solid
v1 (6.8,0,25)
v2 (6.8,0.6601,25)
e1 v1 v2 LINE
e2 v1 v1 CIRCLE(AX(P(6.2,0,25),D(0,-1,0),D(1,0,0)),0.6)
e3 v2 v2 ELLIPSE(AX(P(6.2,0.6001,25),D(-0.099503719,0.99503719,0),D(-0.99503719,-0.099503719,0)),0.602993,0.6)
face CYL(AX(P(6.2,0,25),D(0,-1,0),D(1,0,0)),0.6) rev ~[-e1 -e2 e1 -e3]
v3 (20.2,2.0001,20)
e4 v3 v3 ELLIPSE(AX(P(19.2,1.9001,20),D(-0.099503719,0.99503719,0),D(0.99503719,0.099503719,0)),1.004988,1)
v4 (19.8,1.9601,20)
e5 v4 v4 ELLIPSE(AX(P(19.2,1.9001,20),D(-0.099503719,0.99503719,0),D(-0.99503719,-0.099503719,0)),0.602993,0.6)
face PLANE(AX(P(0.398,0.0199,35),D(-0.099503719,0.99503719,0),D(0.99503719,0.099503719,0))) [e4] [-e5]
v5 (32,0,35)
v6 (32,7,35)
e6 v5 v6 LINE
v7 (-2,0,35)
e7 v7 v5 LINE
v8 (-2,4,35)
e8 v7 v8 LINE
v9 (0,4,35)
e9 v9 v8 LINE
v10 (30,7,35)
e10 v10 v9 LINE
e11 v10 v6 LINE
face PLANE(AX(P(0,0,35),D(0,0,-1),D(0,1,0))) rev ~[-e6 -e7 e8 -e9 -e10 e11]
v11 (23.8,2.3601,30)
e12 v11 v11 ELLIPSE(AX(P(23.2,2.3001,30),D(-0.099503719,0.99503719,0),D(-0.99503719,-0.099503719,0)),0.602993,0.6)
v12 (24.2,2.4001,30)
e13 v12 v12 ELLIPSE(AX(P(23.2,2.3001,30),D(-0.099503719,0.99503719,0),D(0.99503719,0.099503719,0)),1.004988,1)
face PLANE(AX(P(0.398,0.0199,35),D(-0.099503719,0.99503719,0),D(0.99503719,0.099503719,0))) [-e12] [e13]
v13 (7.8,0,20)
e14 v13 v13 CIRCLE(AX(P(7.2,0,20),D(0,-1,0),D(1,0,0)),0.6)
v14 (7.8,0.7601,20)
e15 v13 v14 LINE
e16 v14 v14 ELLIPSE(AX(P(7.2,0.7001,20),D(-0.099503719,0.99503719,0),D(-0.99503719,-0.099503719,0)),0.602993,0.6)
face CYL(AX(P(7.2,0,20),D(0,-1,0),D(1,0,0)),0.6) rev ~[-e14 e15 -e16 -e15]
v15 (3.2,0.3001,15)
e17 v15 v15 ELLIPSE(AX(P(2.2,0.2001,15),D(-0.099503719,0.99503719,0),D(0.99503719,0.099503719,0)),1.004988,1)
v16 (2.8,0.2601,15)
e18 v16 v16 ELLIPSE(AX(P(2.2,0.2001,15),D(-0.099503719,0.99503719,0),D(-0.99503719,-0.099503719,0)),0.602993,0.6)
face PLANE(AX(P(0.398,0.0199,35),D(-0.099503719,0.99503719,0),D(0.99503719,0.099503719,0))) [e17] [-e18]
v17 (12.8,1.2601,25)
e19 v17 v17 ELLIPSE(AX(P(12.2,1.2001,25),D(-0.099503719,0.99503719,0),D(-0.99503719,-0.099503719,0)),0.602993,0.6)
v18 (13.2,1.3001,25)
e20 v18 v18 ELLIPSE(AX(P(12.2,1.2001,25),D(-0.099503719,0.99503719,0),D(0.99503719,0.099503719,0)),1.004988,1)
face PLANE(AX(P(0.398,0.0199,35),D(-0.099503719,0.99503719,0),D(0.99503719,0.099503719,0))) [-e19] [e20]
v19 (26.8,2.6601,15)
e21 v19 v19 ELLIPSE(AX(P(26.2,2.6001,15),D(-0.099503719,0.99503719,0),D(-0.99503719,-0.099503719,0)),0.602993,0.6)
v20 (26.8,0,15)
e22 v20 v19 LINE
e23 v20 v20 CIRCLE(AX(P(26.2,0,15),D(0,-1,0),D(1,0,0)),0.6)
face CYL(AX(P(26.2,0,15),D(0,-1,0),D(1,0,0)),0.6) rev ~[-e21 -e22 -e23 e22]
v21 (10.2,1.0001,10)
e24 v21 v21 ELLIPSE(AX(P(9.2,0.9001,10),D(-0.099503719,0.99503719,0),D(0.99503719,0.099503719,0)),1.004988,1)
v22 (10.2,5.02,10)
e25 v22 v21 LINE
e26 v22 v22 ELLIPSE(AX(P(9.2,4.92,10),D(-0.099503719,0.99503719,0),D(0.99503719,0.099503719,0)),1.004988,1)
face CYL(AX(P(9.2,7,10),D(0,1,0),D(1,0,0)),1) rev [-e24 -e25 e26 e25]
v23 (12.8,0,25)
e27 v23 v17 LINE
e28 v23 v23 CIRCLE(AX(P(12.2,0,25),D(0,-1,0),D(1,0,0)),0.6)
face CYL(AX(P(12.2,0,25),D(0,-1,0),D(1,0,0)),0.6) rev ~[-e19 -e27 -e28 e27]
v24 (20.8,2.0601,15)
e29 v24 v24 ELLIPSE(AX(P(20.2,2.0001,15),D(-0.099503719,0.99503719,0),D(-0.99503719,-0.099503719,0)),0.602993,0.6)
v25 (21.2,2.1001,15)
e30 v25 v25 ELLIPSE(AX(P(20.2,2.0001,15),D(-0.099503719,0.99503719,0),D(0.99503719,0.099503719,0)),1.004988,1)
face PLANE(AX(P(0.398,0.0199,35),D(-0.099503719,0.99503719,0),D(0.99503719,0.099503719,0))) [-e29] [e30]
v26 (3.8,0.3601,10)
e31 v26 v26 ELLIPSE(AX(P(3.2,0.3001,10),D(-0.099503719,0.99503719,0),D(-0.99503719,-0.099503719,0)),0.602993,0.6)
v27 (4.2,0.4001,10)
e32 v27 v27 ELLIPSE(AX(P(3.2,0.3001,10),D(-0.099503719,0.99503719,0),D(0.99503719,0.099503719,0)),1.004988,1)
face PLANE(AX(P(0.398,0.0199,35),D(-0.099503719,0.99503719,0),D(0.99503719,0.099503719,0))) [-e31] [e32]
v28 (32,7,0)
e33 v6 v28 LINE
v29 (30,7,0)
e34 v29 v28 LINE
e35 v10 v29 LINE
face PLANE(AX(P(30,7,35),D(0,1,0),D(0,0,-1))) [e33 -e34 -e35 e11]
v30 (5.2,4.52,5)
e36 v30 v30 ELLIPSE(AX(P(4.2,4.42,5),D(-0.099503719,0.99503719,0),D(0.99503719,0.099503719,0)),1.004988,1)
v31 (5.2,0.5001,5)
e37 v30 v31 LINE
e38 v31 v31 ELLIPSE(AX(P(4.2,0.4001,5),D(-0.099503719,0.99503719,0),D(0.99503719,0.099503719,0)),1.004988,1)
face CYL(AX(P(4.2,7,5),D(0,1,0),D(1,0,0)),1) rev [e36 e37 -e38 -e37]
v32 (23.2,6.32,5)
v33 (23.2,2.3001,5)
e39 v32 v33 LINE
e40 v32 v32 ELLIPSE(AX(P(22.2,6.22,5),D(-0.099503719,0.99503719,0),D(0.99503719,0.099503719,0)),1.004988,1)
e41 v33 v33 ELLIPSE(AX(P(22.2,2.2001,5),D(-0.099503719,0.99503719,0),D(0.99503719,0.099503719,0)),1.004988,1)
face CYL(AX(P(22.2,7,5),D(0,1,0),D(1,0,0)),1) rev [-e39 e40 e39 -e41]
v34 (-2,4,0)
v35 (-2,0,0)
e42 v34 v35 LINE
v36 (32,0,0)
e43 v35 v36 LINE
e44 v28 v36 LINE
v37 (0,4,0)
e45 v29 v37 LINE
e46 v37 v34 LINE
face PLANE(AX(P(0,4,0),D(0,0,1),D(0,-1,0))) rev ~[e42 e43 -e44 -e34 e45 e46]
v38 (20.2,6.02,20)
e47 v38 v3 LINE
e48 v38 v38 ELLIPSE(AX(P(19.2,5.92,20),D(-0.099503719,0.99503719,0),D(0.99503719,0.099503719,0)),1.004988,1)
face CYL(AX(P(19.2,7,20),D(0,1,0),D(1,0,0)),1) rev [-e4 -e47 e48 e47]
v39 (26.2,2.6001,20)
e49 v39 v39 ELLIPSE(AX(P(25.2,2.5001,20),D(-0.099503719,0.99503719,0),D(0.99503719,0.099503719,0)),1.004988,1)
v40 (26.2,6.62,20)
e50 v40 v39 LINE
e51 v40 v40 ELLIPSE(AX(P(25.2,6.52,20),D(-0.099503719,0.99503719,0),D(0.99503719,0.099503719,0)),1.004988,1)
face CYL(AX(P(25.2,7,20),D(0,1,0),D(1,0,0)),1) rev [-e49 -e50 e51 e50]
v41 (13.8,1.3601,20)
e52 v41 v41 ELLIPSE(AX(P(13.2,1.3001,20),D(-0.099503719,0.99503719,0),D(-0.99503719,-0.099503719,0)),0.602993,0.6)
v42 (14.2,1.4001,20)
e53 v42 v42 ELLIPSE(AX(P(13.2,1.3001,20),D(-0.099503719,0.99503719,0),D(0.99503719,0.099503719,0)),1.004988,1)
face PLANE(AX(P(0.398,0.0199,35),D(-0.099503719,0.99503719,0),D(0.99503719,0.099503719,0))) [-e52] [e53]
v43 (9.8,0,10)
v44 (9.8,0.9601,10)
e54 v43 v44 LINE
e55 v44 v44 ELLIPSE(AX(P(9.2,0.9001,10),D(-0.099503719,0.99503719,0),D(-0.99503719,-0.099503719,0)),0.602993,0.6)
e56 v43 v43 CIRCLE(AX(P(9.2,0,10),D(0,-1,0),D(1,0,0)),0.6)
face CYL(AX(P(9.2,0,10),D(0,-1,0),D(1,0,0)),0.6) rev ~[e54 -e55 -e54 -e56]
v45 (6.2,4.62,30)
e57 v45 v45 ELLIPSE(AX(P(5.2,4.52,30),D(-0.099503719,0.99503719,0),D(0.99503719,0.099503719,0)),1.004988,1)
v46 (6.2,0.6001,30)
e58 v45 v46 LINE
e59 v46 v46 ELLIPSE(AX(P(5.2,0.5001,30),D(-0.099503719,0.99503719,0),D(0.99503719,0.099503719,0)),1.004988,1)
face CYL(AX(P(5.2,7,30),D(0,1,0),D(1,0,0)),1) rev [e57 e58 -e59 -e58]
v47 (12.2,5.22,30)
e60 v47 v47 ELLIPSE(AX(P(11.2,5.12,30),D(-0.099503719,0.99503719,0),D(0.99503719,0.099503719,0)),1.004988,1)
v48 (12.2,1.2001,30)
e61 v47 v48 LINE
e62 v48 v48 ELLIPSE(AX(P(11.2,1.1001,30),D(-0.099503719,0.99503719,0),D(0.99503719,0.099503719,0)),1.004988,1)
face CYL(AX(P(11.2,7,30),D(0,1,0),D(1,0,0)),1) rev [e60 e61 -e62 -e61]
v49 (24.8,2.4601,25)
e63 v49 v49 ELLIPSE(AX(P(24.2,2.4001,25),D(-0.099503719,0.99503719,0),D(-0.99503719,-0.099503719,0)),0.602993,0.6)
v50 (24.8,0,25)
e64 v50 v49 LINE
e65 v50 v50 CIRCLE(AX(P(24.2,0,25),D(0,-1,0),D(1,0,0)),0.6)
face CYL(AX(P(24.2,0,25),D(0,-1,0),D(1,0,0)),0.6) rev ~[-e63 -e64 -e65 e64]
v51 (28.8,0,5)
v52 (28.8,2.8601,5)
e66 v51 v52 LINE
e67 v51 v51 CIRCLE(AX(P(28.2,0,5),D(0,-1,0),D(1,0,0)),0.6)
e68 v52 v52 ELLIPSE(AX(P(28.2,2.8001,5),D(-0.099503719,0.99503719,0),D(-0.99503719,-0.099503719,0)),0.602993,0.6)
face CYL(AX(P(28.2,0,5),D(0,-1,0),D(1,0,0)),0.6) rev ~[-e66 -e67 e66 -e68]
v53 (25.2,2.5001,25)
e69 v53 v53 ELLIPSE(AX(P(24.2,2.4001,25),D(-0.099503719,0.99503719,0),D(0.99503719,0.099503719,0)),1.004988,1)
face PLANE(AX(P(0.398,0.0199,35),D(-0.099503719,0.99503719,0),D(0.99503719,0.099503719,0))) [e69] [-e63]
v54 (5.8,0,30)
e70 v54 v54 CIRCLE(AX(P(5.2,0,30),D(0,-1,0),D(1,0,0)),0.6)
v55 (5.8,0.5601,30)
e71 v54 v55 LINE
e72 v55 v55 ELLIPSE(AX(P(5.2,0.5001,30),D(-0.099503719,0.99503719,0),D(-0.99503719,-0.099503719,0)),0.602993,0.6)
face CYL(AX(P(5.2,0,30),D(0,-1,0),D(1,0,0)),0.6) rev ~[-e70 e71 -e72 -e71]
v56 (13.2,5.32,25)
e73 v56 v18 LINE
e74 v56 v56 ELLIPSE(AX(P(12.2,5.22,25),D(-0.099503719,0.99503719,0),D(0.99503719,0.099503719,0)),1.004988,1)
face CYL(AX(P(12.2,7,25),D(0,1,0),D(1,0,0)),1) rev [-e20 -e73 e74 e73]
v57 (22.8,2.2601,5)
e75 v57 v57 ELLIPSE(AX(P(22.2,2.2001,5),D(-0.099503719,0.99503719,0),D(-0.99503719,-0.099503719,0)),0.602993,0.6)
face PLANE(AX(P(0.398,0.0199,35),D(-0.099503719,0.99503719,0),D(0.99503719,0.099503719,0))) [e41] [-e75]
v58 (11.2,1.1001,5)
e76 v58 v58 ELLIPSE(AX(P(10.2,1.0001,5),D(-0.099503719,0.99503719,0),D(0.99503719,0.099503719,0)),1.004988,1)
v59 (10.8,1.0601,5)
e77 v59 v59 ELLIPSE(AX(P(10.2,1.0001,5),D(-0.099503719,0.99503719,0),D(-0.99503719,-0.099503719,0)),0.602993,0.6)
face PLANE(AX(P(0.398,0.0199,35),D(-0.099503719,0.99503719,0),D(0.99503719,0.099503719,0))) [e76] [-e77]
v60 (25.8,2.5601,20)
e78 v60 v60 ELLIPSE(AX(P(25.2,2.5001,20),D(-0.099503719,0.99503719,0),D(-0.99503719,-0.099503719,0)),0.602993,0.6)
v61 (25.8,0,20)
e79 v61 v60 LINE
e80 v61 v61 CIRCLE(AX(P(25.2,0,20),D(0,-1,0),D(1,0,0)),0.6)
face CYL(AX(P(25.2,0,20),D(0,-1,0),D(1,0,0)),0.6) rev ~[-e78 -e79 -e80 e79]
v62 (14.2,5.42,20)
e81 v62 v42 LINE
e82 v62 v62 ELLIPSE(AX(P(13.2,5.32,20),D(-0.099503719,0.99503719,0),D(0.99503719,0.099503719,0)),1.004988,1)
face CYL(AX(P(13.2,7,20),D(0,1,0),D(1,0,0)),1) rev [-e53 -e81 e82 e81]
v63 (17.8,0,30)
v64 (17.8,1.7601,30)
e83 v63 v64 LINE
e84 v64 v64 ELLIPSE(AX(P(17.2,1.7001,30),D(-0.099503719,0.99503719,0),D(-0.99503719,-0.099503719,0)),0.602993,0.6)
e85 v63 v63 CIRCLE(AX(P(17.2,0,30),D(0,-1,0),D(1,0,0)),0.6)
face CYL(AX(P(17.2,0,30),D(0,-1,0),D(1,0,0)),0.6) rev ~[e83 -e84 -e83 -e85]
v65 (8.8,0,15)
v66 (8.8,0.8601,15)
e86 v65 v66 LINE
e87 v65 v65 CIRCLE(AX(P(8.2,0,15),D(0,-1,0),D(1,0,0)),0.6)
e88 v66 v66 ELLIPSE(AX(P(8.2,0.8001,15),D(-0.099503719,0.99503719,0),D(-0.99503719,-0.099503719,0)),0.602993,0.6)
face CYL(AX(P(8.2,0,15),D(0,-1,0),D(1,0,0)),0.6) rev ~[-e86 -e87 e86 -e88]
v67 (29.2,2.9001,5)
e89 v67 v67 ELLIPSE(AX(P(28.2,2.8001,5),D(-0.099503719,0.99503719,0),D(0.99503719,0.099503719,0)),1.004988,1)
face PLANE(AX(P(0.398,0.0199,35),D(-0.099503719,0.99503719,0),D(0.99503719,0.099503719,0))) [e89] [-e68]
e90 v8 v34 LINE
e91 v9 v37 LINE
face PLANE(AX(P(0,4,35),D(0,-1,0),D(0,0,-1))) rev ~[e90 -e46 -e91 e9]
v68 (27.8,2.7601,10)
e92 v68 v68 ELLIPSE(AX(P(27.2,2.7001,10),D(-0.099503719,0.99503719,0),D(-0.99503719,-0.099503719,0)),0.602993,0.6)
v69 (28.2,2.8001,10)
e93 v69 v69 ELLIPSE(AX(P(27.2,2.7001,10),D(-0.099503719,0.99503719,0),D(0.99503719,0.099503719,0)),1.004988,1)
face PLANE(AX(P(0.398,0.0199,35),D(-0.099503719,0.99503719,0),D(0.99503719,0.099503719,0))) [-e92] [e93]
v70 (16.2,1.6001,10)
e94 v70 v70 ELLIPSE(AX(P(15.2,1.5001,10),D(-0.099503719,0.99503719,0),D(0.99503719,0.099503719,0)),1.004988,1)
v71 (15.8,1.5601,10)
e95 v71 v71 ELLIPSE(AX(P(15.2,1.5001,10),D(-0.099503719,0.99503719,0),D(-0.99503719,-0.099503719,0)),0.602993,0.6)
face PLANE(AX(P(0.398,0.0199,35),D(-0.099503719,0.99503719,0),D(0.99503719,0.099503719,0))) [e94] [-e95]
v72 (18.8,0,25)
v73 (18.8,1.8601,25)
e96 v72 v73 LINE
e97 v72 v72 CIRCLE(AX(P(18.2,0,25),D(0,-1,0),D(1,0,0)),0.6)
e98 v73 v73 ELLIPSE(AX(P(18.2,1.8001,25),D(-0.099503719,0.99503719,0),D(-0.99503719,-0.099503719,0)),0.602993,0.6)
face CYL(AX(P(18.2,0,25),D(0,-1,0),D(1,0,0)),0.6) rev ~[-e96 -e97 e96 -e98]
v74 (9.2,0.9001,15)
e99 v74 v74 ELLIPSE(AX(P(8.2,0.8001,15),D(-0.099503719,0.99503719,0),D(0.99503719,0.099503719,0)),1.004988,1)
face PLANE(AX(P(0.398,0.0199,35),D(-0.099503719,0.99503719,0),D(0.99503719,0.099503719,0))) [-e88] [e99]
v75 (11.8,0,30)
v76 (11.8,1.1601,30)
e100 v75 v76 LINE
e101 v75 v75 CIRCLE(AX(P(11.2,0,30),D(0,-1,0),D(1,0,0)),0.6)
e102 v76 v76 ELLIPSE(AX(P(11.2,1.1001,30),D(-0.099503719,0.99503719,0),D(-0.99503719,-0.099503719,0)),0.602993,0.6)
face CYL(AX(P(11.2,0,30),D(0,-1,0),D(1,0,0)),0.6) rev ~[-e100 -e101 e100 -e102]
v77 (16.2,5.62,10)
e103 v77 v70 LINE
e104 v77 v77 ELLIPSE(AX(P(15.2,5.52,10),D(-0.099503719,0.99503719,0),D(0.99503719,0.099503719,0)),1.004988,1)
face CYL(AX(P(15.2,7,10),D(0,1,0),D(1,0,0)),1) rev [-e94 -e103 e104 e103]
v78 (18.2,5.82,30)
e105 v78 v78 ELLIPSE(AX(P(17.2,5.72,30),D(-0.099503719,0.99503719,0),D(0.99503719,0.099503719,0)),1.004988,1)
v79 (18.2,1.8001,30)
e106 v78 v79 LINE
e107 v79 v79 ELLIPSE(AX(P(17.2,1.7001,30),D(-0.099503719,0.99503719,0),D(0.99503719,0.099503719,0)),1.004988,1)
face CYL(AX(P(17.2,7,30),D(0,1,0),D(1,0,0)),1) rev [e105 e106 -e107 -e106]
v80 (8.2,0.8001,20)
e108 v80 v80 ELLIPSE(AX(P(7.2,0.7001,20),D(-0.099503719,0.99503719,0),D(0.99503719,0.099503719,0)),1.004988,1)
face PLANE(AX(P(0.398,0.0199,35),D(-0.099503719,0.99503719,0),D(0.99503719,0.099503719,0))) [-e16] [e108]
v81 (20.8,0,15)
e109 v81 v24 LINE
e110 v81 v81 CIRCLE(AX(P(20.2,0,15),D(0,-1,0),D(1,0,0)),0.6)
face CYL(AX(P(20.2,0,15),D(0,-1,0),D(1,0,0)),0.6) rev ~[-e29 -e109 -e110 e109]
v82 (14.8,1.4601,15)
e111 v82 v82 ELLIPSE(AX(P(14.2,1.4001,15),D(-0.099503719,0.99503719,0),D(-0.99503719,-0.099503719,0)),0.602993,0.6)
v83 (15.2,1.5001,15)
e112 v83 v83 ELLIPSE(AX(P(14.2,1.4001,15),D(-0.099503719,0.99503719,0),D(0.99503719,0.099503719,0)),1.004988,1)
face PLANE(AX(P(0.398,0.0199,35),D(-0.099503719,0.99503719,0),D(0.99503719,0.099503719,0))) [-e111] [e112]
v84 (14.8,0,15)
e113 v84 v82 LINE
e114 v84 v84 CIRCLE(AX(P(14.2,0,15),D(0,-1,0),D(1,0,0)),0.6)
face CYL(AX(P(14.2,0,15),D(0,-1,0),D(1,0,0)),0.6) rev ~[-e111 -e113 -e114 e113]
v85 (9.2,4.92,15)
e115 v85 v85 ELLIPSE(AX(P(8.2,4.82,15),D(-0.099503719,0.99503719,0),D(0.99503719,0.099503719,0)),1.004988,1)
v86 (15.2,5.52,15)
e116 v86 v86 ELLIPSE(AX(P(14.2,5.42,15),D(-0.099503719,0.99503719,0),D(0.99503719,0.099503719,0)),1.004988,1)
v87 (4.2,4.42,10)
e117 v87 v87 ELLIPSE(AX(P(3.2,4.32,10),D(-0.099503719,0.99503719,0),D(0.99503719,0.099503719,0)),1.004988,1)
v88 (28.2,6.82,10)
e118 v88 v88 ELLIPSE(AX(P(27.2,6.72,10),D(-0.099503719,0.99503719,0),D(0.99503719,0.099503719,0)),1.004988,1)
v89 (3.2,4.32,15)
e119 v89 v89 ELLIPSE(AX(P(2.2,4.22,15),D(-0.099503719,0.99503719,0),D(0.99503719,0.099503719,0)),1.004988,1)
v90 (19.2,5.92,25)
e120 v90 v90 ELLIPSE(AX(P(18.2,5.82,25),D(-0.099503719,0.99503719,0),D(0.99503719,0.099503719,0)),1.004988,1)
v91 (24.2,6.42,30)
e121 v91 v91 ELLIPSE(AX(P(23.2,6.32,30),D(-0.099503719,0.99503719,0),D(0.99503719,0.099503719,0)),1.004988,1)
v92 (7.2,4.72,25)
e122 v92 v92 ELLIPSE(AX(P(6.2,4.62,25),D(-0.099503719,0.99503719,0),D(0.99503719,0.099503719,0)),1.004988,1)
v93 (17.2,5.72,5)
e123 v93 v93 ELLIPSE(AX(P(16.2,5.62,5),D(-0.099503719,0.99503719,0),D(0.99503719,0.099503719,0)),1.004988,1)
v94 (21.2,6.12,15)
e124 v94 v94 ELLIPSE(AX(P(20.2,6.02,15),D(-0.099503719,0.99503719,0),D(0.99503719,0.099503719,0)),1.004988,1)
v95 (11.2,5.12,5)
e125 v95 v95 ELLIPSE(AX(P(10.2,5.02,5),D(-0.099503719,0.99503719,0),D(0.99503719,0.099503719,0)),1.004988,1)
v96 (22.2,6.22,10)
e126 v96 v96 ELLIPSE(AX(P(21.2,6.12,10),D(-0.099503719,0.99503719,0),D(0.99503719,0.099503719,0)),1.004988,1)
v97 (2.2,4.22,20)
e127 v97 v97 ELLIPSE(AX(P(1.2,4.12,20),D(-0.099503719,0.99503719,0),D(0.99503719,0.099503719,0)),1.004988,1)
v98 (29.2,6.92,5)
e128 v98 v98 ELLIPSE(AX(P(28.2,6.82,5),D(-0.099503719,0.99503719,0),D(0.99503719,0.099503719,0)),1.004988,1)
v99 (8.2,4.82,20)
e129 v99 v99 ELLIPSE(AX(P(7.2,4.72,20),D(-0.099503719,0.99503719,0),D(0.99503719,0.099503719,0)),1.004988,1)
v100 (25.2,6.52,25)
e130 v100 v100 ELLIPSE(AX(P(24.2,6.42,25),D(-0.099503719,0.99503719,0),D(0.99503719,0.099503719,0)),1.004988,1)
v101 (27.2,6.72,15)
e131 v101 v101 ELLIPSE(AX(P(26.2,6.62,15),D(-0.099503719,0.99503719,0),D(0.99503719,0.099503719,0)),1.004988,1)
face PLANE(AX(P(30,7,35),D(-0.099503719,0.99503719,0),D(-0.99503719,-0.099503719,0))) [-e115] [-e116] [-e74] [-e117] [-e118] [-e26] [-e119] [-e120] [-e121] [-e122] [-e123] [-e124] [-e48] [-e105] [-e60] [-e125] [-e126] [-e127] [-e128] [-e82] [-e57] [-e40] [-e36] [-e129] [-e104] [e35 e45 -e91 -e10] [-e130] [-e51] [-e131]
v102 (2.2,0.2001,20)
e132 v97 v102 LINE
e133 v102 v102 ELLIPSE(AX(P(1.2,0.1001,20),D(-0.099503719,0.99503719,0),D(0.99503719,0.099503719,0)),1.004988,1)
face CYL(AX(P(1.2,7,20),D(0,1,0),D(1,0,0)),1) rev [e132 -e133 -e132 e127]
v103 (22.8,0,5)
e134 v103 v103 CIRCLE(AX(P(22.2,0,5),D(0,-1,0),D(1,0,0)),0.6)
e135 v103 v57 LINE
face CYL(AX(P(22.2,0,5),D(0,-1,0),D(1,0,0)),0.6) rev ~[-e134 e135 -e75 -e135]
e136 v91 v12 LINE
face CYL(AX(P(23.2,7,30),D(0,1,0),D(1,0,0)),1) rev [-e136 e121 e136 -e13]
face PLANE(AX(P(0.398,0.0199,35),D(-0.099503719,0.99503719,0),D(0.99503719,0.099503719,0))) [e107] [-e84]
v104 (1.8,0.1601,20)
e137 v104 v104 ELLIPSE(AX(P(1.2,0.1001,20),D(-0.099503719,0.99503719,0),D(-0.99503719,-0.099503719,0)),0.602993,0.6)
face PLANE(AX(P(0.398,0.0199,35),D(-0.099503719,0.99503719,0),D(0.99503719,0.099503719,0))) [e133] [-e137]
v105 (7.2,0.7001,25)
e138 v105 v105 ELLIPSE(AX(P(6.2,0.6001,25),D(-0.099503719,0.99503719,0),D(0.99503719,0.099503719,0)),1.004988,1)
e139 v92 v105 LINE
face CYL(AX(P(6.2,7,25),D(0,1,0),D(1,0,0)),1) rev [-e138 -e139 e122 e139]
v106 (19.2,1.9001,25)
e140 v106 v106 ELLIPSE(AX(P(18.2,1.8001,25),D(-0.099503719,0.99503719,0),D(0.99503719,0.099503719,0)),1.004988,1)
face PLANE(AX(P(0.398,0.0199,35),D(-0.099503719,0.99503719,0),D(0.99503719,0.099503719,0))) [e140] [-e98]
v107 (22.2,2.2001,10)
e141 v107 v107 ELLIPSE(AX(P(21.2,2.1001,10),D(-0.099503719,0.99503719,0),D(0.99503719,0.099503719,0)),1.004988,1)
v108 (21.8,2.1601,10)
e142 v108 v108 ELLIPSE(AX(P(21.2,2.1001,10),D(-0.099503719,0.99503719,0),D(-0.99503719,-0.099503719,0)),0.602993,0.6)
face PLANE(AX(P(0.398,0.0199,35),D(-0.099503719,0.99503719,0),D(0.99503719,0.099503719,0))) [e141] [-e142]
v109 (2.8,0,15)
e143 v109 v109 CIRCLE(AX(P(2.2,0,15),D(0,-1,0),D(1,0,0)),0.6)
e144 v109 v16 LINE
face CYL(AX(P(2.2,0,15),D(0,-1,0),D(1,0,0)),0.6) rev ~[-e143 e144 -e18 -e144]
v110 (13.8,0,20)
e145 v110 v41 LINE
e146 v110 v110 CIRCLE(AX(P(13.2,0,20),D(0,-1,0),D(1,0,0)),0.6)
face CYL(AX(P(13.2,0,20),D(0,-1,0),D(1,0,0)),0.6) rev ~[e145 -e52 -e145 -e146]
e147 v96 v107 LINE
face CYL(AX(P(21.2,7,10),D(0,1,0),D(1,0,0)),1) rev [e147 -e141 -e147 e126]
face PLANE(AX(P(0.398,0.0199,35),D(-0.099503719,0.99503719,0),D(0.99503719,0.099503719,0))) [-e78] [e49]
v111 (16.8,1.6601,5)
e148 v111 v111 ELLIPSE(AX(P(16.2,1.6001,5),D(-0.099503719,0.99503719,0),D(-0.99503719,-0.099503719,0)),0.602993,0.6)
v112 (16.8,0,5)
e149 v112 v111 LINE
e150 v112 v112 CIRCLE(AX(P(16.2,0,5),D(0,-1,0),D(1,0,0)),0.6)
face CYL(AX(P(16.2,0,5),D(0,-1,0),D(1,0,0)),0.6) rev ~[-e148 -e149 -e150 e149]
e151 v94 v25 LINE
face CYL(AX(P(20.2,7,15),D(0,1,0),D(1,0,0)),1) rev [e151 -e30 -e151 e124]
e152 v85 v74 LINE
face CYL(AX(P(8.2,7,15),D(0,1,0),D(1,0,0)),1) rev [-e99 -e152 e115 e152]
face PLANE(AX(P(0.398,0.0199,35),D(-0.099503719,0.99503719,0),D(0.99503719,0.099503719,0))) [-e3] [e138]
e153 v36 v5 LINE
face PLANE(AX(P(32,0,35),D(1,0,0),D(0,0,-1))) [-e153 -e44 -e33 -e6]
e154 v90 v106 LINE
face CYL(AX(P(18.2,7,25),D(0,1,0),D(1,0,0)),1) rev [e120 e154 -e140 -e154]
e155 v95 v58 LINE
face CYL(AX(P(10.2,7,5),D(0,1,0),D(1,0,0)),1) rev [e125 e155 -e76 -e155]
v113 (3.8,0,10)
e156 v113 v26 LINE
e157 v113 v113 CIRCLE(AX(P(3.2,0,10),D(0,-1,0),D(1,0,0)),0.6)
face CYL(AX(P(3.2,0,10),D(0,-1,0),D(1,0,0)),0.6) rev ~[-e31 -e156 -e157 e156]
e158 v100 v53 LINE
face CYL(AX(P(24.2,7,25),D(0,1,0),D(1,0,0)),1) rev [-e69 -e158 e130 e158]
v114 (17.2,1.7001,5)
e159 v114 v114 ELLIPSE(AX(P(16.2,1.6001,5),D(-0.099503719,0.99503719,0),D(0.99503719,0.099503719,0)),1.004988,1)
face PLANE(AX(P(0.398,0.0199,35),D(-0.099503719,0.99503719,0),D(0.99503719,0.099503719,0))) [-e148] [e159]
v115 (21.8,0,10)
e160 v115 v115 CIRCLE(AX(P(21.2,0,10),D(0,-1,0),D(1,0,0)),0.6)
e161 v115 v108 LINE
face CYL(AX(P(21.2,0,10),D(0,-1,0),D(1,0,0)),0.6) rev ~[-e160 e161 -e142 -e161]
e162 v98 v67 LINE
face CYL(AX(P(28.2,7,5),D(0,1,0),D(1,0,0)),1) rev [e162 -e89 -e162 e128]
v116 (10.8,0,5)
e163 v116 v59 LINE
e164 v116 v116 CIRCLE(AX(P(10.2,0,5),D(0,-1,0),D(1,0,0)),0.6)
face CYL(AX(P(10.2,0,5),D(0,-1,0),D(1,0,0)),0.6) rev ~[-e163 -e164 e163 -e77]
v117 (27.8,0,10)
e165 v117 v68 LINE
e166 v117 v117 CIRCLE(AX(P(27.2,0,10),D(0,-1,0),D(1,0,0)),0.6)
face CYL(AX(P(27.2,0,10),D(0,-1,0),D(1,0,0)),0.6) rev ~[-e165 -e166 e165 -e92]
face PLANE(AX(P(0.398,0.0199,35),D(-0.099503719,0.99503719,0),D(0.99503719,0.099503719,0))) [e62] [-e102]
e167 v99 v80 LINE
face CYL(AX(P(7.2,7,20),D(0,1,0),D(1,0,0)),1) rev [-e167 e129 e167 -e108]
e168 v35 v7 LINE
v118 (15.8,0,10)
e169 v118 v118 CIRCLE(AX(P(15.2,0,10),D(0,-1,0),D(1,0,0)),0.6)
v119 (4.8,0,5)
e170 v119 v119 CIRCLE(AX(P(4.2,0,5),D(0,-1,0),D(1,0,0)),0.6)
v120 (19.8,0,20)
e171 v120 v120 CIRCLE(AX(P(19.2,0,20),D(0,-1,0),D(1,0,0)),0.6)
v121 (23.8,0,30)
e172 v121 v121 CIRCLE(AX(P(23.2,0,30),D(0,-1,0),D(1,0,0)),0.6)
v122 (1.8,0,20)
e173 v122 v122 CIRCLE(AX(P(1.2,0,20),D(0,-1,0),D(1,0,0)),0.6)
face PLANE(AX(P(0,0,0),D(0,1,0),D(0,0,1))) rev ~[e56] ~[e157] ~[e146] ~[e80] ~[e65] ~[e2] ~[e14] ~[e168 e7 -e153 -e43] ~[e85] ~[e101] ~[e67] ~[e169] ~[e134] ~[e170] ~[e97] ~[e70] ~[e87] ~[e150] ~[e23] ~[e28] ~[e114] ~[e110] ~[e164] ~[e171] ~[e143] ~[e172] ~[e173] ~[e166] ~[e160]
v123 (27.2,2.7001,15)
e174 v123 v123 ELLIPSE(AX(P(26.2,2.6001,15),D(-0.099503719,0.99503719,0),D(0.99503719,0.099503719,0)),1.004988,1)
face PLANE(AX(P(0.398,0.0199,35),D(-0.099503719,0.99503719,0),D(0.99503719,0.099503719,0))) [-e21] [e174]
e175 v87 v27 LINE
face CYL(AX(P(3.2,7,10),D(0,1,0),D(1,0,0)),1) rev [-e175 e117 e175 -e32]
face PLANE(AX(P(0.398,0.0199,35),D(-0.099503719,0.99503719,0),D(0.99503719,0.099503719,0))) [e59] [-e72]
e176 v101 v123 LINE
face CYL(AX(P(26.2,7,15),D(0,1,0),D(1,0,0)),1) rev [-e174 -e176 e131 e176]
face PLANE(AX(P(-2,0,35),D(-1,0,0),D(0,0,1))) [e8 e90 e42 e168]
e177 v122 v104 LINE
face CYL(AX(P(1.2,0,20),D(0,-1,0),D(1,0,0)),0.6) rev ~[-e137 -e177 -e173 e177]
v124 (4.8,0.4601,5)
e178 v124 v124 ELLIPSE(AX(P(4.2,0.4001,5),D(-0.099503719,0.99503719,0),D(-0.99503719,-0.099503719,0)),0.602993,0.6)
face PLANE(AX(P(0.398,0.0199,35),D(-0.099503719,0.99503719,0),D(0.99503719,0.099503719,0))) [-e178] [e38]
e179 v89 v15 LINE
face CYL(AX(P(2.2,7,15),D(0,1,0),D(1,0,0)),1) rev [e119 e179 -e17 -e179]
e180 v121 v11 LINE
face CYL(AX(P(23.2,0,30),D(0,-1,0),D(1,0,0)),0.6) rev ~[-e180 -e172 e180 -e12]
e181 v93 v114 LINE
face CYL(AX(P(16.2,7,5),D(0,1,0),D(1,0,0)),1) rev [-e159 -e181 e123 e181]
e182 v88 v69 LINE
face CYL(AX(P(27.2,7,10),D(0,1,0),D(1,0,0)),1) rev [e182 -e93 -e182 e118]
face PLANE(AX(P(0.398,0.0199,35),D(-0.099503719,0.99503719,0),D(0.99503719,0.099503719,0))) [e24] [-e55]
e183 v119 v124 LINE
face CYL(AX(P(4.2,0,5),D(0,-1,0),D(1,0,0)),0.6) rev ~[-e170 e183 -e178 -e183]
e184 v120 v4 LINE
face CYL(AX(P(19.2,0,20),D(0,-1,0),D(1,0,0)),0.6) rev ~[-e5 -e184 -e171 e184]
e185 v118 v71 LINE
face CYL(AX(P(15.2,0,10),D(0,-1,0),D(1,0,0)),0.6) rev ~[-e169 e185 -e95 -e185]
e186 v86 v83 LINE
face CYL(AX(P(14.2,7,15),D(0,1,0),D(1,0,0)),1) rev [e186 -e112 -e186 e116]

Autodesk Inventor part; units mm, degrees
ref_plane "YZ Plane" through (0, 0, 0) normal (1, 0, 0) x (0, 1, 0)
sketch "Sketch1" plane through (0, 0, 0) normal (0, 0, 1) x (1, 0, 0)
  line L0 (0, 0) -> (30, 0)
  line L1 (30, 0) -> (30, 3)
  line L2 (30, 3) -> (0, 0)
  dimension "d0" = 30
  dimension "d1" = 3
extrude "Extrusion1" add sketch "Sketch1" along normal blind 35
sketch "Sketch2" plane through (0, 0, 0) normal (0, -1, 0) x (1, 0, 0)
  circle A0 centre (26.2, 15) radius 0.6
  line L0 (0, 35) -> (30, 35) projected
  line L1 (30, 0) -> (30, 35) projected
  circle A1 centre (20.2, 15) radius 0.6
  circle A2 centre (14.2, 15) radius 0.6
  circle A3 centre (8.2, 15) radius 0.6
  circle A4 centre (2.2, 15) radius 0.6
  circle A5 centre (27.2, 10) radius 0.6
  circle A6 centre (21.2, 10) radius 0.6
  circle A7 centre (15.2, 10) radius 0.6
  circle A8 centre (9.2, 10) radius 0.6
  circle A9 centre (3.2, 10) radius 0.6
  circle A10 centre (28.2, 5) radius 0.6
  circle A11 centre (22.2, 5) radius 0.6
  circle A12 centre (16.2, 5) radius 0.6
  circle A13 centre (10.2, 5) radius 0.6
  circle A14 centre (4.2, 5) radius 0.6
  line L2 (0, 0) -> (30, 0) projected
  circle A15 centre (25.2, 20) radius 0.6
  circle A16 centre (19.2, 20) radius 0.6
  circle A17 centre (13.2, 20) radius 0.6
  circle A18 centre (7.2, 20) radius 0.6
  circle A19 centre (1.2, 20) radius 0.6
  circle A20 centre (24.2, 25) radius 0.6
  circle A21 centre (18.2, 25) radius 0.6
  circle A22 centre (12.2, 25) radius 0.6
  circle A23 centre (6.2, 25) radius 0.6
  circle A24 centre (23.2, 30) radius 0.6
  circle A25 centre (17.2, 30) radius 0.6
  circle A26 centre (11.2, 30) radius 0.6
  circle A27 centre (5.2, 30) radius 0.6
  dimension "d4" = 1.2
  dimension "d6" = 3.8
  dimension "d9" = 6
  dimension "d14" = 1.2
  dimension "d16" = 1
  dimension "d17" = 5
  dimension "d20" = 6
  dimension "d25" = 1.2
  dimension "d26" = 1
  dimension "d27" = 5
  dimension "d30" = 6
  dimension "d87" = 5
  dimension "d88" = 1.2
  dimension "d89" = 5
  dimension "d90" = 1
  dimension "d93" = 6
  dimension "d109" = 1.2
  dimension "d110" = 5
  dimension "d111" = 1
  dimension "d114" = 6
  dimension "d119" = 1.2
  dimension "d120" = 1
  dimension "d121" = 5
  dimension "d124" = 6
extrude "Extrusion2" cut sketch "Sketch2" against normal through all
sketch "Sketch4" plane through (0, 0, 35) normal (0, 0, 1) x (1, 0, 0)
  line L0 (30, 3) -> (0, 0) projected
  line L1 (0, 0) -> (0, 4)
  line L2 (30, 0) -> (30, 3) projected
  line L3 (30, 3) -> (30, 7)
  line L4 (30, 7) -> (0, 4)
  line L5 (0, 0) -> (30, 3)
  dimension "d41" = 4
  dimension "d42" = 4
extrude "Extrusion4" add sketch "Sketch4" against normal blind 35
sketch "Sketch5" plane through (30, 0, 35) normal (1, 0, 0) x (0, 0, -1)
  line L0 (0, 7) -> (0, 4) projected
  line L1 (35, 0) -> (0, 0)
  line L2 (0, 0) -> (0, 7)
  line L3 (0, 7) -> (35, 7)
  line L4 (35, 7) -> (35, 0)
extrude "Extrusion5" add sketch "Sketch5" along normal blind 2
sketch "Sketch7" plane through (0, 0, 35) normal (-1, 0, 0) x (0, 0, 1)
  line L0 (0, 7) -> (0, 4) projected
  line L1 (0, 4) -> (-35, 4)
  line L2 (-35, 4) -> (-35, 0)
  line L3 (-35, 0) -> (0, 0)
  line L4 (0, 0) -> (0, 4)
extrude "Extrusion6" add sketch "Sketch7" along normal blind 2
ref_plane "Work Plane2" through (0, 7, 0) normal (0, -1, 0) x (1, 0, 0)
sketch "Sketch6" plane through (0, 7, 0) normal (0, -1, 0) x (1, 0, 0)
  circle A0 centre (26.2, 15) radius 1
  line L0 (0, 0) -> (30, 0) projected
  line L1 (30, 35) -> (30, 0) projected
  line L2 (30, 35) -> (0, 35) projected
  circle A1 centre (20.2, 15) radius 1
  circle A2 centre (14.2, 15) radius 1
  circle A3 centre (8.2, 15) radius 1
  circle A4 centre (2.2, 15) radius 1
  circle A5 centre (27.2, 10) radius 1
  circle A6 centre (21.2, 10) radius 1
  circle A7 centre (15.2, 10) radius 1
  circle A8 centre (9.2, 10) radius 1
  circle A9 centre (3.2, 10) radius 1
  circle A10 centre (28.2, 5) radius 1
  circle A11 centre (22.2, 5) radius 1
  circle A12 centre (16.2, 5) radius 1
  circle A13 centre (10.2, 5) radius 1
  circle A14 centre (4.2, 5) radius 1
  circle A15 centre (25.2, 20) radius 1
  circle A16 centre (19.2, 20) radius 1
  circle A17 centre (13.2, 20) radius 1
  circle A18 centre (7.2, 20) radius 1
  circle A19 centre (1.2, 20) radius 1
  circle A20 centre (24.2, 25) radius 1
  circle A21 centre (18.2, 25) radius 1
  circle A22 centre (12.2, 25) radius 1
  circle A23 centre (6.2, 25) radius 1
  circle A24 centre (23.2, 30) radius 1
  circle A25 centre (17.2, 30) radius 1
  circle A26 centre (11.2, 30) radius 1
  circle A27 centre (5.2, 30) radius 1
  dimension "d49" = 2
  dimension "d52" = 3.8
  dimension "d60" = 6
  dimension "d65" = 2
  dimension "d66" = 5
  dimension "d67" = 1
  dimension "d70" = 6
  dimension "d75" = 2
  dimension "d76" = 5
  dimension "d77" = 1
  dimension "d80" = 6
  dimension "d98" = 5
  dimension "d99" = 2
  dimension "d100" = 5
  dimension "d101" = 1
  dimension "d104" = 6
  dimension "d129" = 2
  dimension "d130" = 5
  dimension "d131" = 1
  dimension "d134" = 6
  dimension "d139" = 2
  dimension "d140" = 5
  dimension "d141" = 1
  dimension "d144" = 6
ref_plane "Work Plane3" through (0.398, 0.0199, 35) normal (-0.0995, 0.995, 0) x (0.995, 0.0995, 0)
extrude "Extrusion7" cut sketch "Sketch6" along normal up to surface surface through (0.398, 0.0199, 35) normal (-0.0995, 0.995, 0)
properties part number "FiberJig"
